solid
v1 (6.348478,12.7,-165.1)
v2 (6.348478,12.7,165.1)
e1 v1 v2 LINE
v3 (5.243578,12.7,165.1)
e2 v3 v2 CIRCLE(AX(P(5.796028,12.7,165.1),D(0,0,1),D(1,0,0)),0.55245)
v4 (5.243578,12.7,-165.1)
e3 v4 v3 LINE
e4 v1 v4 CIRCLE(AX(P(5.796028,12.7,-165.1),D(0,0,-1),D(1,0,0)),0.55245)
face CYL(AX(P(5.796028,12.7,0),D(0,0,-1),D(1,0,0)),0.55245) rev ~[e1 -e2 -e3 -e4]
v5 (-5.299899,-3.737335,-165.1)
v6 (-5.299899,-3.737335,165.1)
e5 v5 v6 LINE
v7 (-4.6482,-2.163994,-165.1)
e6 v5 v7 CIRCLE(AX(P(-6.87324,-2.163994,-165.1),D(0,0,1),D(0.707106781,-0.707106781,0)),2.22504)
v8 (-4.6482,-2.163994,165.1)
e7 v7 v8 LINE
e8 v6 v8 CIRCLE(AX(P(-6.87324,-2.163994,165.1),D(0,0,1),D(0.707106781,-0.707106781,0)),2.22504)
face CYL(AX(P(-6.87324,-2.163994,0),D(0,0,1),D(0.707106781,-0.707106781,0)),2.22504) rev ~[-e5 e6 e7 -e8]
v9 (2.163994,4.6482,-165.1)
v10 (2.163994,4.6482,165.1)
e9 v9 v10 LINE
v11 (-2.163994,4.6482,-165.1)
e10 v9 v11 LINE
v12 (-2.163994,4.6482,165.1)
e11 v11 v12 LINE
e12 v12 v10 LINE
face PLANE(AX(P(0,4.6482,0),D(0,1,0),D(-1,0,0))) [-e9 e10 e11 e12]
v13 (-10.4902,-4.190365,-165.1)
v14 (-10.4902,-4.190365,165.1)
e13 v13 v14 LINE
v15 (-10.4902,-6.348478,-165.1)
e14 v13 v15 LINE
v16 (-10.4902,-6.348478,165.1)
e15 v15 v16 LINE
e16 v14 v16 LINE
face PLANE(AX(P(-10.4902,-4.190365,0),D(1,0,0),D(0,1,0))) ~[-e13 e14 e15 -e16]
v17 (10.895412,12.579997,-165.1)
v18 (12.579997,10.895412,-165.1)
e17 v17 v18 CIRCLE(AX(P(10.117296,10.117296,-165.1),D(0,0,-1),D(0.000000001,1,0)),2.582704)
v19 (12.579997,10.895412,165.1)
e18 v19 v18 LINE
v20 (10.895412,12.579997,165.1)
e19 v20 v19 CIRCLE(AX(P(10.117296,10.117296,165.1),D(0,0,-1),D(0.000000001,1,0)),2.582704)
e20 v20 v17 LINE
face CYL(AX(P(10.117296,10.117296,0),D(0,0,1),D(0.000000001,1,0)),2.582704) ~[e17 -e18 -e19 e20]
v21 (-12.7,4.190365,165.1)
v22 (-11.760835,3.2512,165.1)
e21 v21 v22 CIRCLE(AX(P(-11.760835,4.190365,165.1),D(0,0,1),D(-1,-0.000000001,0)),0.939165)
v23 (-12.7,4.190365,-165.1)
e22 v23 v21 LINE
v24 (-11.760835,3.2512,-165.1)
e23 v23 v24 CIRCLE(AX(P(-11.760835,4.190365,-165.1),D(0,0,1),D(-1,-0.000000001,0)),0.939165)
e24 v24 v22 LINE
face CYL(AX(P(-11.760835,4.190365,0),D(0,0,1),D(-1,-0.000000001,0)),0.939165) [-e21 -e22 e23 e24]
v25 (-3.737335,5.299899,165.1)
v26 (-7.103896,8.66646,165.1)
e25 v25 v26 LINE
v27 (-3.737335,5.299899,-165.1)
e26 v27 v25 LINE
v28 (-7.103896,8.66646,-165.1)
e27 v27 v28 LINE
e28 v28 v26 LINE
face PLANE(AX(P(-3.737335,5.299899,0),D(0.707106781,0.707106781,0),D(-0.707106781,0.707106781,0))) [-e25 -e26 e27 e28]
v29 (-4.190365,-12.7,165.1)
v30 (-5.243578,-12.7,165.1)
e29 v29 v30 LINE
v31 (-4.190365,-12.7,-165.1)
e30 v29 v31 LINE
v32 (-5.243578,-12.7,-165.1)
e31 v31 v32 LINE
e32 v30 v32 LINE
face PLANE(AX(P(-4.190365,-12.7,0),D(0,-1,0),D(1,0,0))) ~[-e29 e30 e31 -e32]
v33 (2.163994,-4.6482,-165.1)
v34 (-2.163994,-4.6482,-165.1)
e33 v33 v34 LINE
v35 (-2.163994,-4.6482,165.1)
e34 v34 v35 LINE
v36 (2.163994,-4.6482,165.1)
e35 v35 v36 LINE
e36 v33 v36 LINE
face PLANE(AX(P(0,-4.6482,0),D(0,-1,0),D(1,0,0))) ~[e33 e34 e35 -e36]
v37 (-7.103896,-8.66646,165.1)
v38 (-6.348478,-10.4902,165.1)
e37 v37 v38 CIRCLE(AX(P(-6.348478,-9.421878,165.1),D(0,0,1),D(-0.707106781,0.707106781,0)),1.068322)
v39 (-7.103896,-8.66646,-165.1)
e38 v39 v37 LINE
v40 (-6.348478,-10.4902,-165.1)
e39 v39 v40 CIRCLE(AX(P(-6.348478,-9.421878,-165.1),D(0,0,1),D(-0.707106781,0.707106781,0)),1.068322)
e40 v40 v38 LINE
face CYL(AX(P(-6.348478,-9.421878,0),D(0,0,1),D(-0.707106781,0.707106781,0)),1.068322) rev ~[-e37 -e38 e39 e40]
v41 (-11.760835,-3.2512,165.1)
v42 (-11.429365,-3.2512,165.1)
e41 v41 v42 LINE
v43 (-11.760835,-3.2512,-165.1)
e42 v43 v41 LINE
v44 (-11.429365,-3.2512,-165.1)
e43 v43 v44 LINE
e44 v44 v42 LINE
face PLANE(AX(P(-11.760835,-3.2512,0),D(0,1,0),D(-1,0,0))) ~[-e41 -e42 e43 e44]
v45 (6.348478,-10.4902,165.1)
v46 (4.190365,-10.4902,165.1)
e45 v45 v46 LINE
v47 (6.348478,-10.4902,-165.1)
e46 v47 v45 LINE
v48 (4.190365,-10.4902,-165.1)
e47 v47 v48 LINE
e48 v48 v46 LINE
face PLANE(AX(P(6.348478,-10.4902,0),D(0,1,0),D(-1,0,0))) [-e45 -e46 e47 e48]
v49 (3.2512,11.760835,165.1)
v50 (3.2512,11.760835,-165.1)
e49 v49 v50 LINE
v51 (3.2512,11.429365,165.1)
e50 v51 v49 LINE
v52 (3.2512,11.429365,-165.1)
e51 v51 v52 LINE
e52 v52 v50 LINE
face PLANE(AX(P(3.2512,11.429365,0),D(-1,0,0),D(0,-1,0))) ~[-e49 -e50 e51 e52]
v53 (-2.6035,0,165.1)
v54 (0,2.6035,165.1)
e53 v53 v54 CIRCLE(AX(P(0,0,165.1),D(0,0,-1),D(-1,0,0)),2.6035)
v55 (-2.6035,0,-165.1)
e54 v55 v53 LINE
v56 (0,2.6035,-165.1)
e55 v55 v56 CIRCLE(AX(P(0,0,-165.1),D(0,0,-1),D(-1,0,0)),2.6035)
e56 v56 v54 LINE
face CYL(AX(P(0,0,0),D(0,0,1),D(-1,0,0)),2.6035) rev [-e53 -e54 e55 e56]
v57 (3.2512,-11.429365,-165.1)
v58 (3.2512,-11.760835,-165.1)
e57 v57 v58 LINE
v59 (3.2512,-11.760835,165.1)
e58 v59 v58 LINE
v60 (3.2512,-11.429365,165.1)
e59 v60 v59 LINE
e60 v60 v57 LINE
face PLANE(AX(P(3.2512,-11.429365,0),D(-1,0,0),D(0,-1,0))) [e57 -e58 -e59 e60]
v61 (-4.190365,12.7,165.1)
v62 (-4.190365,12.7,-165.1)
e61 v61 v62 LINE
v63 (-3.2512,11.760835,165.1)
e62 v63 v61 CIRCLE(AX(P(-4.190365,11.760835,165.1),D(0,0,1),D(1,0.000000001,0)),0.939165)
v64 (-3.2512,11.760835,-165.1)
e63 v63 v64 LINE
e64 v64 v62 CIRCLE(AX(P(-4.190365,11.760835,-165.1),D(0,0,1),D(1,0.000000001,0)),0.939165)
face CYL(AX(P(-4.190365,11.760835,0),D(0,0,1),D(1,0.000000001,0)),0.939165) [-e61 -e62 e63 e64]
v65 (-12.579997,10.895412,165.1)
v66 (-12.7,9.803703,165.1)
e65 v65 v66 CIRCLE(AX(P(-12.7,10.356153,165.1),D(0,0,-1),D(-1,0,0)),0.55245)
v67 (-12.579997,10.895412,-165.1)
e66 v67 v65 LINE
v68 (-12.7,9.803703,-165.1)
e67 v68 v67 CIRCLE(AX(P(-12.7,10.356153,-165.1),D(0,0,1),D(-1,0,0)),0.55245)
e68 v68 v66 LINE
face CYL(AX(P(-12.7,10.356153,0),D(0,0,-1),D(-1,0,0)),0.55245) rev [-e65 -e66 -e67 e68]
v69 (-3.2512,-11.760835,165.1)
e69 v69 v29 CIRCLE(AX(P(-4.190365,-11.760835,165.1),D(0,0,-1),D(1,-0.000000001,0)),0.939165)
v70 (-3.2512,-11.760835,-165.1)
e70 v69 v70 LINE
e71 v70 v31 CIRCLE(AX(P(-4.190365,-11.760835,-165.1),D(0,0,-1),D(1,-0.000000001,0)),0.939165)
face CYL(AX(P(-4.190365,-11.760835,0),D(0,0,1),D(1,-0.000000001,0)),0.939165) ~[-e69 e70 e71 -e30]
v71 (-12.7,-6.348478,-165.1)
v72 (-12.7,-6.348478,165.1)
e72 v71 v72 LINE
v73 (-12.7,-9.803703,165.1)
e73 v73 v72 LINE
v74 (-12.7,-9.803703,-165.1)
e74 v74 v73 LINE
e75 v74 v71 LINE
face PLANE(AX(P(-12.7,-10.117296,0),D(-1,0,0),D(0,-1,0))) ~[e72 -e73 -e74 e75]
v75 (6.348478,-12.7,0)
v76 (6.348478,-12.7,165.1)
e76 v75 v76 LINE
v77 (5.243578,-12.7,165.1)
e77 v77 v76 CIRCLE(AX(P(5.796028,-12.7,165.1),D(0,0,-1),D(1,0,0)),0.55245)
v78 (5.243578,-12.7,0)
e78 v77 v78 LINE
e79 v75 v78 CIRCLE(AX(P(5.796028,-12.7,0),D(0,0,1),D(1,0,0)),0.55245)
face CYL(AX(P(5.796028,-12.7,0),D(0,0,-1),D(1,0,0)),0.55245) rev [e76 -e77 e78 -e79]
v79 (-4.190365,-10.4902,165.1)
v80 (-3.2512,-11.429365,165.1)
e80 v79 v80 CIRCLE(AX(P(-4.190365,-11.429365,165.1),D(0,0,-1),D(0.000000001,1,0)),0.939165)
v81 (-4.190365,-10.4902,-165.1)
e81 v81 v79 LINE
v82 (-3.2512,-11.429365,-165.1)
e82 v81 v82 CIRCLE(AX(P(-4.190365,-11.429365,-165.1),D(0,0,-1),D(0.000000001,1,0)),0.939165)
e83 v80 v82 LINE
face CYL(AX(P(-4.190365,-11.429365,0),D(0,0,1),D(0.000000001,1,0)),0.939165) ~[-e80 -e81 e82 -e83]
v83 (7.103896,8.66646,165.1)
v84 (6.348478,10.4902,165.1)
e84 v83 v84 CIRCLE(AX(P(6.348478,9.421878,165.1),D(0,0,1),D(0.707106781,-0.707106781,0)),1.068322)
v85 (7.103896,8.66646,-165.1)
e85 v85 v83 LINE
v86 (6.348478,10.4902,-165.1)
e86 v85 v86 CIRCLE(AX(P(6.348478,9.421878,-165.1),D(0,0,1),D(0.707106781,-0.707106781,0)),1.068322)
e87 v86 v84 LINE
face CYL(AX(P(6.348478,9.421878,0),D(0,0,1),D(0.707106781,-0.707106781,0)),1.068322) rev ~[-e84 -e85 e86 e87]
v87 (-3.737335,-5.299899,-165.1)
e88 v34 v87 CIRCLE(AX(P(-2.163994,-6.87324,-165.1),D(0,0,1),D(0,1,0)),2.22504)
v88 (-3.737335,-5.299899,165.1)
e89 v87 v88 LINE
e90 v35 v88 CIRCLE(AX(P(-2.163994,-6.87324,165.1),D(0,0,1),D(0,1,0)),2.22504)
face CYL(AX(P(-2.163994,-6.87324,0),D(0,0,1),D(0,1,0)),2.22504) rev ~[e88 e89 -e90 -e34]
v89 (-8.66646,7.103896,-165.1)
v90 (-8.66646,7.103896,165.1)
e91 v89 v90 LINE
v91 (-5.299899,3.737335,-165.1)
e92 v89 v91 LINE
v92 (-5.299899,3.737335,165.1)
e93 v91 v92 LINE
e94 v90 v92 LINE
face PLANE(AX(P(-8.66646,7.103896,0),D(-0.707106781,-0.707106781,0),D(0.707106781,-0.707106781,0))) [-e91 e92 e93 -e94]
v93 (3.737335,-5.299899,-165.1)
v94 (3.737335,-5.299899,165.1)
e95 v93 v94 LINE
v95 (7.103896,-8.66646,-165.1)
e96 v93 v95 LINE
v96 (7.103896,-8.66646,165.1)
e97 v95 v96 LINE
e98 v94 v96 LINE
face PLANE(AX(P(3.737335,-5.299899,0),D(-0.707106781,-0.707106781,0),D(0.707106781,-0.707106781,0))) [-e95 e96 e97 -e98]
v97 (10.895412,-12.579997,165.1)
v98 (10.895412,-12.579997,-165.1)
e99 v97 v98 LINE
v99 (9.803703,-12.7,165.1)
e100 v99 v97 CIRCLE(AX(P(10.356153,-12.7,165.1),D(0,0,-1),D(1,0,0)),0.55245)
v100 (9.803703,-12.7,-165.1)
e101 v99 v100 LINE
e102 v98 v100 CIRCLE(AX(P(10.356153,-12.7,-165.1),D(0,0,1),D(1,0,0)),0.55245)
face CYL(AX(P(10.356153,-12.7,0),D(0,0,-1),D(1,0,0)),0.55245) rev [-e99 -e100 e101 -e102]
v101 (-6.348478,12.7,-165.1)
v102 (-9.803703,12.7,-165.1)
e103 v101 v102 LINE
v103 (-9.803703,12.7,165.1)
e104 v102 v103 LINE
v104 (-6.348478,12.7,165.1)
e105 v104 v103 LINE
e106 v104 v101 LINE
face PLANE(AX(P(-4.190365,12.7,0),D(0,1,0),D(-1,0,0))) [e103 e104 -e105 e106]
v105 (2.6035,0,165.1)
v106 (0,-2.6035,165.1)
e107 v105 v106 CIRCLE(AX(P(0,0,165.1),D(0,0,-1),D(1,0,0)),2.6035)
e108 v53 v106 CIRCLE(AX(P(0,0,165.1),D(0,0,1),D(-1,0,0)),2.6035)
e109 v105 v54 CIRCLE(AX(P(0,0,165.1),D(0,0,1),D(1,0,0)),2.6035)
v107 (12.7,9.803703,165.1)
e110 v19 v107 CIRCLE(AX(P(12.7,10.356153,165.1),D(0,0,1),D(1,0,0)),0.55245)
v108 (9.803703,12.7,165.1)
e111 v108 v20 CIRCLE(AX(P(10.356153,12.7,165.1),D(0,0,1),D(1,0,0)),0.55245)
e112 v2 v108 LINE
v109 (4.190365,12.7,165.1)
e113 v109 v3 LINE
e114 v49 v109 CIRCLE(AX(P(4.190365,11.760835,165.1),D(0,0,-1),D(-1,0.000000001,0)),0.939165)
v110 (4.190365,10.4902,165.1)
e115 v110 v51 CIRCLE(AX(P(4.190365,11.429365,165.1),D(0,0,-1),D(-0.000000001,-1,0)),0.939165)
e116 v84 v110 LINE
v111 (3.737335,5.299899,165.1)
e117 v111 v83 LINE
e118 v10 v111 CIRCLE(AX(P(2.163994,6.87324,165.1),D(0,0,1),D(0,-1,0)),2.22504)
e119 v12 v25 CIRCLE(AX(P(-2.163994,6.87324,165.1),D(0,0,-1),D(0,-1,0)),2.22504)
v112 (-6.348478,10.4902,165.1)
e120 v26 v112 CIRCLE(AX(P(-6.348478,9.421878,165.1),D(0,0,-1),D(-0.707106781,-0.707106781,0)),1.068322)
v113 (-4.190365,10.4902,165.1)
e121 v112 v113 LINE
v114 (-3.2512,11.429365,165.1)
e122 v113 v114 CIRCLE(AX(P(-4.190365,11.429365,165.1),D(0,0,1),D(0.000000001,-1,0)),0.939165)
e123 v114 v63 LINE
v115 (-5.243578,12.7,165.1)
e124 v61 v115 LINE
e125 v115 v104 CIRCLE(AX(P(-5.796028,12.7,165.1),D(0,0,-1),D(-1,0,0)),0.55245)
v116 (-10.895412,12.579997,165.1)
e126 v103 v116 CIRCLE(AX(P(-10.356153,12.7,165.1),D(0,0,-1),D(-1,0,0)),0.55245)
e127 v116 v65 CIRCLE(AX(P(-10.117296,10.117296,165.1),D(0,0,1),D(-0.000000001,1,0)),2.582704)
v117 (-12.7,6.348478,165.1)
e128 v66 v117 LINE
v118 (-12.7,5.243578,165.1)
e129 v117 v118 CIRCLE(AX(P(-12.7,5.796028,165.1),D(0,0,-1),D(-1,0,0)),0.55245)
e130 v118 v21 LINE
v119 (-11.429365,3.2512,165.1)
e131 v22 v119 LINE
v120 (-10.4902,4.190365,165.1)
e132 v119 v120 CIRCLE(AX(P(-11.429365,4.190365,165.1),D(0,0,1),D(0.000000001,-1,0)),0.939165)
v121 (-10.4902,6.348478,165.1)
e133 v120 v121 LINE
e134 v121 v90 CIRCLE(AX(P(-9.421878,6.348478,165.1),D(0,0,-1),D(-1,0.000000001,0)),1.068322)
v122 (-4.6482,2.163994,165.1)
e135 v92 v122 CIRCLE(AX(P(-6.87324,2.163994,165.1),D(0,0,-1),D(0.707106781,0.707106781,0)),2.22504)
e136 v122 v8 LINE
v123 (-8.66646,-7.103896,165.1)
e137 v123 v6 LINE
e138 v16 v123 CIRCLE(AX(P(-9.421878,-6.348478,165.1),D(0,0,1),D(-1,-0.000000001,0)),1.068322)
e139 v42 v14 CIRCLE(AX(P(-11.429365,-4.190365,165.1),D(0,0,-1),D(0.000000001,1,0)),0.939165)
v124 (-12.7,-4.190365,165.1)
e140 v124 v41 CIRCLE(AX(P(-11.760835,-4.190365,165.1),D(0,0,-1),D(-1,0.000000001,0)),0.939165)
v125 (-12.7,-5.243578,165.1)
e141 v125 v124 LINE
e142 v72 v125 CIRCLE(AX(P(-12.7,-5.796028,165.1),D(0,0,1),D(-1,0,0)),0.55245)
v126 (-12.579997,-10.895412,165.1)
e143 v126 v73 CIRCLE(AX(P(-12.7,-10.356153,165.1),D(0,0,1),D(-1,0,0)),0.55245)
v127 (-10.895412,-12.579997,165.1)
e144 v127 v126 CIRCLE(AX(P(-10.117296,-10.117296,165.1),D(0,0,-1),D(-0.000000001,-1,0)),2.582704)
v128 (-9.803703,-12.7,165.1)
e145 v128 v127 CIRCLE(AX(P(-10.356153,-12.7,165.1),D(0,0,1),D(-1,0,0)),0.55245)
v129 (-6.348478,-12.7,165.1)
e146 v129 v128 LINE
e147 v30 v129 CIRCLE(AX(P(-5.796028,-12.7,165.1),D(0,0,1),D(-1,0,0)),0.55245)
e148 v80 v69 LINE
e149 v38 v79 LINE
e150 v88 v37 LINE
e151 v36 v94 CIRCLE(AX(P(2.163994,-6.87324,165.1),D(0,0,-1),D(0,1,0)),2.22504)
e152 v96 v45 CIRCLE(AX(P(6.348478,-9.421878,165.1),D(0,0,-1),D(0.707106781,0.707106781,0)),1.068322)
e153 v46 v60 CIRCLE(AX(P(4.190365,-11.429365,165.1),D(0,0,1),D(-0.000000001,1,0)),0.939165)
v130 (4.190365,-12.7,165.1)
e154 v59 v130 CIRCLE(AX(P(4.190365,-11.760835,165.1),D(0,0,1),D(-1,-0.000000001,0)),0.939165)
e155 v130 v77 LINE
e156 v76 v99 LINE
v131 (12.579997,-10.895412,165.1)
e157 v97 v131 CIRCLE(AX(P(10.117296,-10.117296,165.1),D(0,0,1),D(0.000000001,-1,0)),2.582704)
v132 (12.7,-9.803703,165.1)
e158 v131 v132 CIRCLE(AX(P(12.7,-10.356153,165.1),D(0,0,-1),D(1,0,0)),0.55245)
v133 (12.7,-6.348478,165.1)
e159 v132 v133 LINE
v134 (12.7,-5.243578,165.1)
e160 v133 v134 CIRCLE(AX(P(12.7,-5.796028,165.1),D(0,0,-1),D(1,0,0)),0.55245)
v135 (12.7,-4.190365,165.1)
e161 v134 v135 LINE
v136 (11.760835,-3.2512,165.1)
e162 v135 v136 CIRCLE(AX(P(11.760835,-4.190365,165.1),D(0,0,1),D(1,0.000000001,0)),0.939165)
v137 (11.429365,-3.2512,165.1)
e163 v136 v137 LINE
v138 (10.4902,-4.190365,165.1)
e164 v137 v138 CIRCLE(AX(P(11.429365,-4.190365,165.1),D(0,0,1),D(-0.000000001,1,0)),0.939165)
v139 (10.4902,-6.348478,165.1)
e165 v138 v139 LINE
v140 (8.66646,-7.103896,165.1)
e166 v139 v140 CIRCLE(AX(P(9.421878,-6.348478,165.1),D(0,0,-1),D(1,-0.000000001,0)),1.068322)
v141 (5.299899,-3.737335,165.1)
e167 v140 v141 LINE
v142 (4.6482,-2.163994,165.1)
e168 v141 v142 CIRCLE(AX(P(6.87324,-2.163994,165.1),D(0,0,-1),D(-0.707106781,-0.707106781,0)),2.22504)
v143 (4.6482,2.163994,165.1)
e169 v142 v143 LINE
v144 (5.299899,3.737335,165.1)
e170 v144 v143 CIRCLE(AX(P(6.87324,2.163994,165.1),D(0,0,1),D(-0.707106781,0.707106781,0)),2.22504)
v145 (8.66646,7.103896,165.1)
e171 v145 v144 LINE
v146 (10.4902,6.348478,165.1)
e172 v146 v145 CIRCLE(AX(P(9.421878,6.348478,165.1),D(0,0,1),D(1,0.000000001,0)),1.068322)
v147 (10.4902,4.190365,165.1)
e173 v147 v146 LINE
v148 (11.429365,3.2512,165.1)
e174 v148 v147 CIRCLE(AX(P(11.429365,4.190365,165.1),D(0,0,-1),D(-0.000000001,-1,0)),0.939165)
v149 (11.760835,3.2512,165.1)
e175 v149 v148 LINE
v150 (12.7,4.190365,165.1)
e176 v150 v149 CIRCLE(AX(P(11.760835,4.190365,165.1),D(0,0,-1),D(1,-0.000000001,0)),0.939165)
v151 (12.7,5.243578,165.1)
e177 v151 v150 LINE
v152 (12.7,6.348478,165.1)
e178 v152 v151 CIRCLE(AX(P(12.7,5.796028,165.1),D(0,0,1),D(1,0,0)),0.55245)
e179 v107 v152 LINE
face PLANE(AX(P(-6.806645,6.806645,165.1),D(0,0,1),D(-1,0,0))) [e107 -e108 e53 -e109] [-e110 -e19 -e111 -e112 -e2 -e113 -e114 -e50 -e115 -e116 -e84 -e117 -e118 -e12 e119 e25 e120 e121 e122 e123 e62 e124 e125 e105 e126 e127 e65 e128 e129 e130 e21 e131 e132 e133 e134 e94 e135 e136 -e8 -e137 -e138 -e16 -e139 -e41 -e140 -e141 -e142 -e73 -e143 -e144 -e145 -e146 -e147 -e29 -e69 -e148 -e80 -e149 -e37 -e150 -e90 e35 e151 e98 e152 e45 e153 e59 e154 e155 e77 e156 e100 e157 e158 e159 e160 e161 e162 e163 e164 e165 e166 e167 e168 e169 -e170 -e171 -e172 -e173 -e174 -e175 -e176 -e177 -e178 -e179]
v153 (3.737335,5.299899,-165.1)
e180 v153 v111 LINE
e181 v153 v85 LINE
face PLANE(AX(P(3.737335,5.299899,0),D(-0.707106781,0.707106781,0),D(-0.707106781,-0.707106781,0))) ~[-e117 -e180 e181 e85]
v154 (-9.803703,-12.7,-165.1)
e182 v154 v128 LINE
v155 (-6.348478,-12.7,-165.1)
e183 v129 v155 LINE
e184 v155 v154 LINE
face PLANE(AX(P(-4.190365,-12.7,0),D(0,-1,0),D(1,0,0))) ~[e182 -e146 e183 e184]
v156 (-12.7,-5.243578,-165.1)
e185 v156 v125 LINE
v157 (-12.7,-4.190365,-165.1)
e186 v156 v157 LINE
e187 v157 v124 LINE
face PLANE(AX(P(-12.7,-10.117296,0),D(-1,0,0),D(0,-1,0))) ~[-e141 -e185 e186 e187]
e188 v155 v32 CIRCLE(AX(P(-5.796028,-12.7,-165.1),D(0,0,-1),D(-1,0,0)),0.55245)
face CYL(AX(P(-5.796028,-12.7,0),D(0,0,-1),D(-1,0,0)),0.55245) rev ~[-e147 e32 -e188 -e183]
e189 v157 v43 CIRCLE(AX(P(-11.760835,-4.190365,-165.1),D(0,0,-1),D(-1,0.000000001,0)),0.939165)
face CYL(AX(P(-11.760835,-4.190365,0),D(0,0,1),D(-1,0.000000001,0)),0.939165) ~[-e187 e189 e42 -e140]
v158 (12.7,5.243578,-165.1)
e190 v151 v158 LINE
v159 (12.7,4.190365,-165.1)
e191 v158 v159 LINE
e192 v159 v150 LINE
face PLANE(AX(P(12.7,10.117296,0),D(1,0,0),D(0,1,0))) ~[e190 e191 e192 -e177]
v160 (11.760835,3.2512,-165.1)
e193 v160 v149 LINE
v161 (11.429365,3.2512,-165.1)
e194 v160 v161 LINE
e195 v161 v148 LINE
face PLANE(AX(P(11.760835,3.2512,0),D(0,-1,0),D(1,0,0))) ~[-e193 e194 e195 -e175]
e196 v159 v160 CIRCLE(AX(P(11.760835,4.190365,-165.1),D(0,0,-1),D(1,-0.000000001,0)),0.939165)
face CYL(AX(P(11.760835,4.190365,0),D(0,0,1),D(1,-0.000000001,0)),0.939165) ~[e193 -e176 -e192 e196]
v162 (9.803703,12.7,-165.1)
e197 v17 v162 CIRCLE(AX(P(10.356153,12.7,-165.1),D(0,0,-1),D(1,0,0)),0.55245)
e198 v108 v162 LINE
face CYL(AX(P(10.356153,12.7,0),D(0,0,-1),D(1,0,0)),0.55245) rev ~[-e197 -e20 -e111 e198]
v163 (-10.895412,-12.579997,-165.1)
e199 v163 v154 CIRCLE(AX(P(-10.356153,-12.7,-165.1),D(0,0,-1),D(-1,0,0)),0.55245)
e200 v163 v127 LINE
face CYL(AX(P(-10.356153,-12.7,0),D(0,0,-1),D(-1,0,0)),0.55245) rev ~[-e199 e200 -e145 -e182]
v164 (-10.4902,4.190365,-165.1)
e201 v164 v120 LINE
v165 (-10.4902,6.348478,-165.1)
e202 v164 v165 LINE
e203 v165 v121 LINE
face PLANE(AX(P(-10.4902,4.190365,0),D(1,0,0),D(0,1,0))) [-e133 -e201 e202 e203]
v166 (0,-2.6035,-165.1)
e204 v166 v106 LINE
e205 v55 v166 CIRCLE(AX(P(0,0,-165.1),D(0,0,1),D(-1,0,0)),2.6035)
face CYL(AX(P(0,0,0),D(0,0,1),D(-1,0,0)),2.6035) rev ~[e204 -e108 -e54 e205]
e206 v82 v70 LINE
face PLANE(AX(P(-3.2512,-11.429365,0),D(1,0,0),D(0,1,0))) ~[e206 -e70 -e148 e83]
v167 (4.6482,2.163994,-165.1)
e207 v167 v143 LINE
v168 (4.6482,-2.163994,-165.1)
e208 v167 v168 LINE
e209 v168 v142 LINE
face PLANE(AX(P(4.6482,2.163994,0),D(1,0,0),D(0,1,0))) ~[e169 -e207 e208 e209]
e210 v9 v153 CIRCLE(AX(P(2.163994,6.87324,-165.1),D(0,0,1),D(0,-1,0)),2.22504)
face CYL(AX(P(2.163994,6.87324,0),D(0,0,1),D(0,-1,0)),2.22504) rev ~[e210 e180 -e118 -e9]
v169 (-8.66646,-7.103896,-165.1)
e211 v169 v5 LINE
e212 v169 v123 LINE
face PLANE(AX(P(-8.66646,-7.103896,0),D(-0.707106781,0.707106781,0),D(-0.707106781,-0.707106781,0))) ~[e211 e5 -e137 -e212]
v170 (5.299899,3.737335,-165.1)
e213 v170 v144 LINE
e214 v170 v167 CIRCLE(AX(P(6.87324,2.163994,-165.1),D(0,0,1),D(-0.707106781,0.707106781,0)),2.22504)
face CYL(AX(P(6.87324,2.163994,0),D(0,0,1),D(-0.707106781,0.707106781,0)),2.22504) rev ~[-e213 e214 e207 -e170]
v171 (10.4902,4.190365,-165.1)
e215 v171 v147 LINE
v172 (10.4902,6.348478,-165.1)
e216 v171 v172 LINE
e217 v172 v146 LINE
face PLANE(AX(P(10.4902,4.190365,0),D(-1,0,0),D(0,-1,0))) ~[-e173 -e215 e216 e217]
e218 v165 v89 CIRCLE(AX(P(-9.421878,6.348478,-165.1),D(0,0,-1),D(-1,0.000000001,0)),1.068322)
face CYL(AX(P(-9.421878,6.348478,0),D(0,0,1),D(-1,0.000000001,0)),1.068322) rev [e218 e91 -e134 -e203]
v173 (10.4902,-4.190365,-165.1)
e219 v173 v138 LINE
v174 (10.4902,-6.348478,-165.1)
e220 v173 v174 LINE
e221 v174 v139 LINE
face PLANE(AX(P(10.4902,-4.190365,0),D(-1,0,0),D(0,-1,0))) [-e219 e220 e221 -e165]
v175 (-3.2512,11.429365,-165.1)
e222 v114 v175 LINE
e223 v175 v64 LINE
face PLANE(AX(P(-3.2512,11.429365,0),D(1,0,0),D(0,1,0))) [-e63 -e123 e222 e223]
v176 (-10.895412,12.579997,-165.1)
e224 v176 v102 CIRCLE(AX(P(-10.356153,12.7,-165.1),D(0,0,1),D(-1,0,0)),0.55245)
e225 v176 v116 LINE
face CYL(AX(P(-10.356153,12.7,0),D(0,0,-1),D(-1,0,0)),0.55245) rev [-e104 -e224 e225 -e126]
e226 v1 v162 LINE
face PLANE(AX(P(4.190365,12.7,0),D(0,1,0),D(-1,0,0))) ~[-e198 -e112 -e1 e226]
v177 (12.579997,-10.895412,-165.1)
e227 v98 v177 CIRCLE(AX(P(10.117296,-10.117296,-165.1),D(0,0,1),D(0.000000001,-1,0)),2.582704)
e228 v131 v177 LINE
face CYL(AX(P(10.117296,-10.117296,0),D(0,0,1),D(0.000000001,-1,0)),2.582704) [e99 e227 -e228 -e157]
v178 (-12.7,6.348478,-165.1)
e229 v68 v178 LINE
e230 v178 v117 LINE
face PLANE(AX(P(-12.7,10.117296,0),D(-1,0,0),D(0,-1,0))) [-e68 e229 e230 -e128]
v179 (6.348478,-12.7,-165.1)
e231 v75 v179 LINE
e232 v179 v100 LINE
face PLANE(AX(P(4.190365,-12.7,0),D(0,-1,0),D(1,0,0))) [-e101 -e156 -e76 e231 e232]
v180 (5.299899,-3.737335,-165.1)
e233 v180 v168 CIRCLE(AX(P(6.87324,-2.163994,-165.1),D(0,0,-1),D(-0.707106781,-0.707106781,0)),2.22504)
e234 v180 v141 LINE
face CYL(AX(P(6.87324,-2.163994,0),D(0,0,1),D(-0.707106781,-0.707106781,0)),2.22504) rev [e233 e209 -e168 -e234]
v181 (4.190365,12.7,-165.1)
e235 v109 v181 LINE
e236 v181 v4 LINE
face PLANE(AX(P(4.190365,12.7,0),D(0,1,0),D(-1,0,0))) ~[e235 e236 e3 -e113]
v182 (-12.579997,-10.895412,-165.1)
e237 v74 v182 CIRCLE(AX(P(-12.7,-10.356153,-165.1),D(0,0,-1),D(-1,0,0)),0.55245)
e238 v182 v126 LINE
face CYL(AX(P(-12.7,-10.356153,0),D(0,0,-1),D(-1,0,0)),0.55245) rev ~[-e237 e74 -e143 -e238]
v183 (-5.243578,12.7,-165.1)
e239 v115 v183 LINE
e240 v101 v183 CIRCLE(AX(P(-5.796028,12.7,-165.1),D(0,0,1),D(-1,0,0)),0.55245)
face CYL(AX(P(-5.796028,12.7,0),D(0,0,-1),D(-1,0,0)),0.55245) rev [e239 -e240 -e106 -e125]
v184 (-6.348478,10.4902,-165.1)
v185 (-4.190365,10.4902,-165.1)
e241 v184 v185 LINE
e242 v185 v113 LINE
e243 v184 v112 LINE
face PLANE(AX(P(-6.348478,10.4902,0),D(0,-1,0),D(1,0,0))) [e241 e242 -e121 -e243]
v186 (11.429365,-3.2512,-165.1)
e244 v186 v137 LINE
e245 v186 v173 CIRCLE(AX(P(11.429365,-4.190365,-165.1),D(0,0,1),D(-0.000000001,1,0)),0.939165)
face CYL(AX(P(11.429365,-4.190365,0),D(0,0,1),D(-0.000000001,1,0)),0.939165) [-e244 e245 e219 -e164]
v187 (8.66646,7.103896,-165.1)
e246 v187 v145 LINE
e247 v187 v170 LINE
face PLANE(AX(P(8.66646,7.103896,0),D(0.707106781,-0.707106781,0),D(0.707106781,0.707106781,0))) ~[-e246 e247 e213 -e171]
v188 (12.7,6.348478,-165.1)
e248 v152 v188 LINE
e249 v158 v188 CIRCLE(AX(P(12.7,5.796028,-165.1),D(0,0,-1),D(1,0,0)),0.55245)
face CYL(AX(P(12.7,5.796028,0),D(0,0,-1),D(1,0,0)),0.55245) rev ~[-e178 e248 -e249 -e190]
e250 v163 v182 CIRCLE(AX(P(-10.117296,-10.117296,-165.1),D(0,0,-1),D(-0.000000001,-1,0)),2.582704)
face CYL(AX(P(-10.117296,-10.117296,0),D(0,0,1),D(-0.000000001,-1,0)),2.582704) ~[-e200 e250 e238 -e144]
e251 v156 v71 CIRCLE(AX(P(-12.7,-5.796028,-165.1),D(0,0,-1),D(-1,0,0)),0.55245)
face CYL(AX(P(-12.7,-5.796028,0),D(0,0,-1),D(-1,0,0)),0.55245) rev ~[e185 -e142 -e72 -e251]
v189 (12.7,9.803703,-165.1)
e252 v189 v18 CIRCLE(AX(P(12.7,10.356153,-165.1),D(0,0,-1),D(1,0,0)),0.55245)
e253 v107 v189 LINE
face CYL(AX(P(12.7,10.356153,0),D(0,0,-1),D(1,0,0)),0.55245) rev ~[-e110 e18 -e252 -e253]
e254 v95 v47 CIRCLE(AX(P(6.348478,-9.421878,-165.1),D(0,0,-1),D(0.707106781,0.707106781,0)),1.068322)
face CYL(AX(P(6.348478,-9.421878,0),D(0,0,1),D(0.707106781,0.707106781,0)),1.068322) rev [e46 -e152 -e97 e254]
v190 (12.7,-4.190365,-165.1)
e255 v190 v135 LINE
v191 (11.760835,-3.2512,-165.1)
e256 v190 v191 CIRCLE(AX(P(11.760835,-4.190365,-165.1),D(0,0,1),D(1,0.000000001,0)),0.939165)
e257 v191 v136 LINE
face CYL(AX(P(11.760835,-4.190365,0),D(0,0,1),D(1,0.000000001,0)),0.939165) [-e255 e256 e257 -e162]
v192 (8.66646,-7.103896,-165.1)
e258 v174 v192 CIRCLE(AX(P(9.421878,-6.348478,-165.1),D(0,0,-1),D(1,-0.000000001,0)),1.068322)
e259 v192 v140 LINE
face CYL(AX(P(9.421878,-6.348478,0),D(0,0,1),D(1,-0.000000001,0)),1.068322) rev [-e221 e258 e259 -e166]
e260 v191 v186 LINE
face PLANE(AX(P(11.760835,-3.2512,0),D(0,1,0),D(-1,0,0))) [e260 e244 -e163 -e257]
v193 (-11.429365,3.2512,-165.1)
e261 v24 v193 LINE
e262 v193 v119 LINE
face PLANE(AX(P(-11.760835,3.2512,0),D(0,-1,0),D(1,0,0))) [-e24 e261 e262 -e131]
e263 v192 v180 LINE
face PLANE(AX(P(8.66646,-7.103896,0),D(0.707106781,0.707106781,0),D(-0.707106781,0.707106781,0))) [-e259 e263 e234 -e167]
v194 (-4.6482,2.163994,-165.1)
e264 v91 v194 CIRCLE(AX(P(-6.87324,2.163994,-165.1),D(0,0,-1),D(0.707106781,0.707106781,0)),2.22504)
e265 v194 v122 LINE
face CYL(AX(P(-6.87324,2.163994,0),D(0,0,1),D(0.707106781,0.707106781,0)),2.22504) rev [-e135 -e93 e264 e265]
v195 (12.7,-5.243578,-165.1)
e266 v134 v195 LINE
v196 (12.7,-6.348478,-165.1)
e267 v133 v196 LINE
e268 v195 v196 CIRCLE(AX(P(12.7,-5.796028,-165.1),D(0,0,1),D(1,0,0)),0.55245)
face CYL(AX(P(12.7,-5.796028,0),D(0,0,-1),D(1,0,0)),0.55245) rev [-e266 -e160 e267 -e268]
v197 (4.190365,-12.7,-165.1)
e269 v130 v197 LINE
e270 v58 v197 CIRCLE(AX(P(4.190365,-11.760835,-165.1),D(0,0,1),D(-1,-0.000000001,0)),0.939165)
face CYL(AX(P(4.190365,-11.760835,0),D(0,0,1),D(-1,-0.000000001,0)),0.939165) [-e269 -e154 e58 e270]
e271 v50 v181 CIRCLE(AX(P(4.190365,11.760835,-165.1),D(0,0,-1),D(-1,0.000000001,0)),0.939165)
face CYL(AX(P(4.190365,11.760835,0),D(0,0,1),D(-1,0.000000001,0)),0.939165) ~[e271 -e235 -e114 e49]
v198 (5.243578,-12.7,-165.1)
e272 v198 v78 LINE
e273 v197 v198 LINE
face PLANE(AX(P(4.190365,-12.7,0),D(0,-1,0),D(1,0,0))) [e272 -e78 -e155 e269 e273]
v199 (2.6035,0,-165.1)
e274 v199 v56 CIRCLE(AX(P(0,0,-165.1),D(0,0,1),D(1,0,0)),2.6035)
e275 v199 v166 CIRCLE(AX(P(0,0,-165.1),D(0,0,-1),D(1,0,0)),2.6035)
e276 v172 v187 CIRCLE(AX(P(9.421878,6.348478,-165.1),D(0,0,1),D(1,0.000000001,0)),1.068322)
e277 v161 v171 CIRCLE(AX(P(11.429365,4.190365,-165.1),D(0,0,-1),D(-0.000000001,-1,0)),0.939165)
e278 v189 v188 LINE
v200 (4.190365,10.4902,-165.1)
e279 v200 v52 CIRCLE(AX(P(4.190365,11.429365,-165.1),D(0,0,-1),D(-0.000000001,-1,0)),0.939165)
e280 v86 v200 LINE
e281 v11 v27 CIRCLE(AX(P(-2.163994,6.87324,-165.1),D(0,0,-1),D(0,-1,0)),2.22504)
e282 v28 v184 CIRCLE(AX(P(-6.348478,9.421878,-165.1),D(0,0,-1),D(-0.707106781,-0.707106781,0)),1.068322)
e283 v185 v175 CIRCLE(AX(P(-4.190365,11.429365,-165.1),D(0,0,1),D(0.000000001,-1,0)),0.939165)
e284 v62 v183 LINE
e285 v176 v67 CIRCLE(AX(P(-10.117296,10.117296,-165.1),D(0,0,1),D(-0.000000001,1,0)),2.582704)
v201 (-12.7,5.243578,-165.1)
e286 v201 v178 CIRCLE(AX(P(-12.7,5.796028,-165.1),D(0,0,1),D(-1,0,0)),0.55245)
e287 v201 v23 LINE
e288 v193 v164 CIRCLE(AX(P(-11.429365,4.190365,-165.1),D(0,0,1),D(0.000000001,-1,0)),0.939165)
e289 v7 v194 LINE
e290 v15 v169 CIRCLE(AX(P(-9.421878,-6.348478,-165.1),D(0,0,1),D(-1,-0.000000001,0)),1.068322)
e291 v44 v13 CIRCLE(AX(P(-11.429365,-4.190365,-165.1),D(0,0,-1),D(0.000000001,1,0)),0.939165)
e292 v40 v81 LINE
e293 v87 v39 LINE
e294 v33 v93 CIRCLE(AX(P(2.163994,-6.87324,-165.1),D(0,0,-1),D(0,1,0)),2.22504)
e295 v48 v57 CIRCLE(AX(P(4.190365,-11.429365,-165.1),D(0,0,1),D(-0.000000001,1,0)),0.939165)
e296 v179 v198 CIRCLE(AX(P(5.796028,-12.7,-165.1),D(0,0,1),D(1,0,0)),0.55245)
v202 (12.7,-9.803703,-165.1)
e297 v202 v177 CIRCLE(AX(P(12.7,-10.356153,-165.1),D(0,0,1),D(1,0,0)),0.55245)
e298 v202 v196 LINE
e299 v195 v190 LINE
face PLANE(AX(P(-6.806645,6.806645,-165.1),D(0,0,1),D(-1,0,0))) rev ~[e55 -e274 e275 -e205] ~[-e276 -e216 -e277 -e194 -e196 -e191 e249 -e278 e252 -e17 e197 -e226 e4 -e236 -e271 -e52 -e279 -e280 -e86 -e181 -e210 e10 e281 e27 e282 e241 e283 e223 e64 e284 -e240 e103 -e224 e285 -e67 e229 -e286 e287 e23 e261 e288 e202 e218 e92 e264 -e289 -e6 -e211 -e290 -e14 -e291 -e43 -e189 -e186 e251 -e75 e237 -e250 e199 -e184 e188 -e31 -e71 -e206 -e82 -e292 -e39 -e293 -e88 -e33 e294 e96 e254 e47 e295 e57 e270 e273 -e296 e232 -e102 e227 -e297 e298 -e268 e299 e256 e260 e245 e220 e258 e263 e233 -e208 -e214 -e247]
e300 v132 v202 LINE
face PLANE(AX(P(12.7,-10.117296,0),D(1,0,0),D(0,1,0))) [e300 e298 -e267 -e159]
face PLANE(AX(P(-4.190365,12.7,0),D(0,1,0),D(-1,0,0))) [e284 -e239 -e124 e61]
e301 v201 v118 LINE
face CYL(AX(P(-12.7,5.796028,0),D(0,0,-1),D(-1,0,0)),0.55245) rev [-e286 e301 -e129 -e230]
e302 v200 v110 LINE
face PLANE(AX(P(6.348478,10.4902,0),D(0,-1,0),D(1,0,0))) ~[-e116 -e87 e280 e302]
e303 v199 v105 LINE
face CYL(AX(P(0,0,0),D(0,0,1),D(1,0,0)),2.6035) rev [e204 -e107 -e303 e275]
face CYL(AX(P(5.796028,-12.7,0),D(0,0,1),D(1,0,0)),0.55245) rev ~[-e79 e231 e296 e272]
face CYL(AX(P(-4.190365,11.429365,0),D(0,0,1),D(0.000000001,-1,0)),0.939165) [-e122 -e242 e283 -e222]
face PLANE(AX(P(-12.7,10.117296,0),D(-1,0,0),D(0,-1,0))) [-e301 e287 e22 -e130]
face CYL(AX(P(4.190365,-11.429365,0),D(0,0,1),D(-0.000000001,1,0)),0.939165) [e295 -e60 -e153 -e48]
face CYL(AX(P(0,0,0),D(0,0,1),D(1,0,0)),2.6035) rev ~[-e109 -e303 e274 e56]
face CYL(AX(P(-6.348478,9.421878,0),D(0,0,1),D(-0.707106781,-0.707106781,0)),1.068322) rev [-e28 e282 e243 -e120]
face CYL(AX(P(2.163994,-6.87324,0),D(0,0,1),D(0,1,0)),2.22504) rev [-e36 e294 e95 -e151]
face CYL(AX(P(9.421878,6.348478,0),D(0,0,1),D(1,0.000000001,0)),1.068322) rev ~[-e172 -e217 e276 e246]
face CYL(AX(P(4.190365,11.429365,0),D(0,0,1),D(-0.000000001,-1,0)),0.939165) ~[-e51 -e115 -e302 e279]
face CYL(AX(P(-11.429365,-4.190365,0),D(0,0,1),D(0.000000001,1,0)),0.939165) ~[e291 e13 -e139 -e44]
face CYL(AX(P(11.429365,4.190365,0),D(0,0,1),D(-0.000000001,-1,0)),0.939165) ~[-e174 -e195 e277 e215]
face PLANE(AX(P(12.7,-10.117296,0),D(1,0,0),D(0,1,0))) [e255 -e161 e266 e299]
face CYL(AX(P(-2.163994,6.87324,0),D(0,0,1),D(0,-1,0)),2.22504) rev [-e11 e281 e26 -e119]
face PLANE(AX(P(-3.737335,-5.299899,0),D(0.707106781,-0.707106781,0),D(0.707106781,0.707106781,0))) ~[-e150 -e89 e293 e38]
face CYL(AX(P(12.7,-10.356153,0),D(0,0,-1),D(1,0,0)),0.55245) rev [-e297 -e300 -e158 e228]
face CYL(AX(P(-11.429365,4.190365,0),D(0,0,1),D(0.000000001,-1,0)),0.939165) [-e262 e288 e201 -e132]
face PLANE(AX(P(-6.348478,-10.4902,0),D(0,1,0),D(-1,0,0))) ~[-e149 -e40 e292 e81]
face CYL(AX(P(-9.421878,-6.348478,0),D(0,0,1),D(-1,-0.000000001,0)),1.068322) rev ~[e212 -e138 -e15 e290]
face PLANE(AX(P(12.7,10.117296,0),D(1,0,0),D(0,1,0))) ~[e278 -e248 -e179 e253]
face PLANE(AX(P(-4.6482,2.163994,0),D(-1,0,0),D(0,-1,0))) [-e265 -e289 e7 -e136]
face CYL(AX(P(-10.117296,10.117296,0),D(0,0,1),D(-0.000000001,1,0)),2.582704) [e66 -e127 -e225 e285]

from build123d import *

# Parameters (mm, degrees)
BOSS_EXTRUDE1_DEPTH     = 165.1
SKETCH5_R               = 0.55245
CUT_EXTRUDE1_DEPTH      = 166.1
CUT_EXTRUDE1_DEPTH_BACK = 166.1


with BuildPart() as part:
    # Sketch4 → Boss-Extrude1 (new body, symmetric)
    with BuildSketch(Plane.XY):
        with BuildLine():
            Line((4.190365, -12.7), (10.11729625, -12.7))
            ThreePointArc((10.11729625, -12.7), (11.943543585, -11.943543585), (12.7, -10.11729625))
            Line((12.7, -10.11729625), (12.7, -4.190365))
            ThreePointArc((12.7, -4.190365), (12.42492494, -3.52627506), (11.760835, -3.2512))
            Line((11.760835, -3.2512), (11.429365, -3.2512))
            ThreePointArc((11.429365, -3.2512), (10.76527506, -3.52627506), (10.4902, -4.190365))
            Line((10.4902, -4.190365), (10.4902, -6.348478019))
            ThreePointArc((10.4902, -6.348478019), (9.830707141, -7.335478831), (8.666460301, -7.103895736))
            Line((8.666460301, -7.103895736), (5.299899128, -3.737334563))
            ThreePointArc((5.299899128, -3.737334563), (4.817571085, -3.015479634), (4.6482, -2.16399369))
            Line((4.6482, -2.16399369), (4.6482, 0))
            Line((4.6482, 0), (2.6035, 0))
            ThreePointArc((2.6035, 0), (1.840952505, -1.840952505), (0, -2.6035))
            Line((0, -2.6035), (0, -4.6482))
            Line((0, -4.6482), (2.16399369, -4.6482))
            ThreePointArc((2.16399369, -4.6482), (3.015479634, -4.817571085), (3.737334563, -5.299899128))
            Line((3.737334563, -5.299899128), (7.103895736, -8.666460301))
            ThreePointArc((7.103895736, -8.666460301), (7.335478831, -9.830707141), (6.348478019, -10.4902))
            Line((6.348478019, -10.4902), (4.190365, -10.4902))
            ThreePointArc((4.190365, -10.4902), (3.52627506, -10.76527506), (3.2512, -11.429365))
            Line((3.2512, -11.429365), (3.2512, -11.760835))
            ThreePointArc((3.2512, -11.760835), (3.52627506, -12.42492494), (4.190365, -12.7))
        make_face()
    extrude(amount=BOSS_EXTRUDE1_DEPTH, both=True)

    # Sketch5 → Cut-Extrude1 (cut, two sides)
    with BuildSketch(Plane.XY) as cut_extrude1_sk:
        with Locations((10.356153152, -12.7)):
            Circle(SKETCH5_R)
        with Locations((5.796028019, -12.7)):
            Circle(SKETCH5_R)
        with Locations((12.7, -10.356153152)):
            Circle(SKETCH5_R)
        with Locations((12.7, -5.796028019)):
            Circle(SKETCH5_R)
    extrude(amount=CUT_EXTRUDE1_DEPTH, mode=Mode.SUBTRACT)
    extrude(cut_extrude1_sk.sketch, amount=-CUT_EXTRUDE1_DEPTH_BACK, mode=Mode.SUBTRACT)

    # Mirror1: part across plane


with BuildPart() as part_1:
    add(part.part)
    add(part.part.mirror(Plane(origin=(0, 0, 0), x_dir=(0, 0, 1), z_dir=(1, 0, 0))))

    # Mirror2: part across plane


with BuildPart() as part_2:
    add(part_1.part)
    add(part_1.part.mirror(Plane.ZX))


solid = part_2.part
